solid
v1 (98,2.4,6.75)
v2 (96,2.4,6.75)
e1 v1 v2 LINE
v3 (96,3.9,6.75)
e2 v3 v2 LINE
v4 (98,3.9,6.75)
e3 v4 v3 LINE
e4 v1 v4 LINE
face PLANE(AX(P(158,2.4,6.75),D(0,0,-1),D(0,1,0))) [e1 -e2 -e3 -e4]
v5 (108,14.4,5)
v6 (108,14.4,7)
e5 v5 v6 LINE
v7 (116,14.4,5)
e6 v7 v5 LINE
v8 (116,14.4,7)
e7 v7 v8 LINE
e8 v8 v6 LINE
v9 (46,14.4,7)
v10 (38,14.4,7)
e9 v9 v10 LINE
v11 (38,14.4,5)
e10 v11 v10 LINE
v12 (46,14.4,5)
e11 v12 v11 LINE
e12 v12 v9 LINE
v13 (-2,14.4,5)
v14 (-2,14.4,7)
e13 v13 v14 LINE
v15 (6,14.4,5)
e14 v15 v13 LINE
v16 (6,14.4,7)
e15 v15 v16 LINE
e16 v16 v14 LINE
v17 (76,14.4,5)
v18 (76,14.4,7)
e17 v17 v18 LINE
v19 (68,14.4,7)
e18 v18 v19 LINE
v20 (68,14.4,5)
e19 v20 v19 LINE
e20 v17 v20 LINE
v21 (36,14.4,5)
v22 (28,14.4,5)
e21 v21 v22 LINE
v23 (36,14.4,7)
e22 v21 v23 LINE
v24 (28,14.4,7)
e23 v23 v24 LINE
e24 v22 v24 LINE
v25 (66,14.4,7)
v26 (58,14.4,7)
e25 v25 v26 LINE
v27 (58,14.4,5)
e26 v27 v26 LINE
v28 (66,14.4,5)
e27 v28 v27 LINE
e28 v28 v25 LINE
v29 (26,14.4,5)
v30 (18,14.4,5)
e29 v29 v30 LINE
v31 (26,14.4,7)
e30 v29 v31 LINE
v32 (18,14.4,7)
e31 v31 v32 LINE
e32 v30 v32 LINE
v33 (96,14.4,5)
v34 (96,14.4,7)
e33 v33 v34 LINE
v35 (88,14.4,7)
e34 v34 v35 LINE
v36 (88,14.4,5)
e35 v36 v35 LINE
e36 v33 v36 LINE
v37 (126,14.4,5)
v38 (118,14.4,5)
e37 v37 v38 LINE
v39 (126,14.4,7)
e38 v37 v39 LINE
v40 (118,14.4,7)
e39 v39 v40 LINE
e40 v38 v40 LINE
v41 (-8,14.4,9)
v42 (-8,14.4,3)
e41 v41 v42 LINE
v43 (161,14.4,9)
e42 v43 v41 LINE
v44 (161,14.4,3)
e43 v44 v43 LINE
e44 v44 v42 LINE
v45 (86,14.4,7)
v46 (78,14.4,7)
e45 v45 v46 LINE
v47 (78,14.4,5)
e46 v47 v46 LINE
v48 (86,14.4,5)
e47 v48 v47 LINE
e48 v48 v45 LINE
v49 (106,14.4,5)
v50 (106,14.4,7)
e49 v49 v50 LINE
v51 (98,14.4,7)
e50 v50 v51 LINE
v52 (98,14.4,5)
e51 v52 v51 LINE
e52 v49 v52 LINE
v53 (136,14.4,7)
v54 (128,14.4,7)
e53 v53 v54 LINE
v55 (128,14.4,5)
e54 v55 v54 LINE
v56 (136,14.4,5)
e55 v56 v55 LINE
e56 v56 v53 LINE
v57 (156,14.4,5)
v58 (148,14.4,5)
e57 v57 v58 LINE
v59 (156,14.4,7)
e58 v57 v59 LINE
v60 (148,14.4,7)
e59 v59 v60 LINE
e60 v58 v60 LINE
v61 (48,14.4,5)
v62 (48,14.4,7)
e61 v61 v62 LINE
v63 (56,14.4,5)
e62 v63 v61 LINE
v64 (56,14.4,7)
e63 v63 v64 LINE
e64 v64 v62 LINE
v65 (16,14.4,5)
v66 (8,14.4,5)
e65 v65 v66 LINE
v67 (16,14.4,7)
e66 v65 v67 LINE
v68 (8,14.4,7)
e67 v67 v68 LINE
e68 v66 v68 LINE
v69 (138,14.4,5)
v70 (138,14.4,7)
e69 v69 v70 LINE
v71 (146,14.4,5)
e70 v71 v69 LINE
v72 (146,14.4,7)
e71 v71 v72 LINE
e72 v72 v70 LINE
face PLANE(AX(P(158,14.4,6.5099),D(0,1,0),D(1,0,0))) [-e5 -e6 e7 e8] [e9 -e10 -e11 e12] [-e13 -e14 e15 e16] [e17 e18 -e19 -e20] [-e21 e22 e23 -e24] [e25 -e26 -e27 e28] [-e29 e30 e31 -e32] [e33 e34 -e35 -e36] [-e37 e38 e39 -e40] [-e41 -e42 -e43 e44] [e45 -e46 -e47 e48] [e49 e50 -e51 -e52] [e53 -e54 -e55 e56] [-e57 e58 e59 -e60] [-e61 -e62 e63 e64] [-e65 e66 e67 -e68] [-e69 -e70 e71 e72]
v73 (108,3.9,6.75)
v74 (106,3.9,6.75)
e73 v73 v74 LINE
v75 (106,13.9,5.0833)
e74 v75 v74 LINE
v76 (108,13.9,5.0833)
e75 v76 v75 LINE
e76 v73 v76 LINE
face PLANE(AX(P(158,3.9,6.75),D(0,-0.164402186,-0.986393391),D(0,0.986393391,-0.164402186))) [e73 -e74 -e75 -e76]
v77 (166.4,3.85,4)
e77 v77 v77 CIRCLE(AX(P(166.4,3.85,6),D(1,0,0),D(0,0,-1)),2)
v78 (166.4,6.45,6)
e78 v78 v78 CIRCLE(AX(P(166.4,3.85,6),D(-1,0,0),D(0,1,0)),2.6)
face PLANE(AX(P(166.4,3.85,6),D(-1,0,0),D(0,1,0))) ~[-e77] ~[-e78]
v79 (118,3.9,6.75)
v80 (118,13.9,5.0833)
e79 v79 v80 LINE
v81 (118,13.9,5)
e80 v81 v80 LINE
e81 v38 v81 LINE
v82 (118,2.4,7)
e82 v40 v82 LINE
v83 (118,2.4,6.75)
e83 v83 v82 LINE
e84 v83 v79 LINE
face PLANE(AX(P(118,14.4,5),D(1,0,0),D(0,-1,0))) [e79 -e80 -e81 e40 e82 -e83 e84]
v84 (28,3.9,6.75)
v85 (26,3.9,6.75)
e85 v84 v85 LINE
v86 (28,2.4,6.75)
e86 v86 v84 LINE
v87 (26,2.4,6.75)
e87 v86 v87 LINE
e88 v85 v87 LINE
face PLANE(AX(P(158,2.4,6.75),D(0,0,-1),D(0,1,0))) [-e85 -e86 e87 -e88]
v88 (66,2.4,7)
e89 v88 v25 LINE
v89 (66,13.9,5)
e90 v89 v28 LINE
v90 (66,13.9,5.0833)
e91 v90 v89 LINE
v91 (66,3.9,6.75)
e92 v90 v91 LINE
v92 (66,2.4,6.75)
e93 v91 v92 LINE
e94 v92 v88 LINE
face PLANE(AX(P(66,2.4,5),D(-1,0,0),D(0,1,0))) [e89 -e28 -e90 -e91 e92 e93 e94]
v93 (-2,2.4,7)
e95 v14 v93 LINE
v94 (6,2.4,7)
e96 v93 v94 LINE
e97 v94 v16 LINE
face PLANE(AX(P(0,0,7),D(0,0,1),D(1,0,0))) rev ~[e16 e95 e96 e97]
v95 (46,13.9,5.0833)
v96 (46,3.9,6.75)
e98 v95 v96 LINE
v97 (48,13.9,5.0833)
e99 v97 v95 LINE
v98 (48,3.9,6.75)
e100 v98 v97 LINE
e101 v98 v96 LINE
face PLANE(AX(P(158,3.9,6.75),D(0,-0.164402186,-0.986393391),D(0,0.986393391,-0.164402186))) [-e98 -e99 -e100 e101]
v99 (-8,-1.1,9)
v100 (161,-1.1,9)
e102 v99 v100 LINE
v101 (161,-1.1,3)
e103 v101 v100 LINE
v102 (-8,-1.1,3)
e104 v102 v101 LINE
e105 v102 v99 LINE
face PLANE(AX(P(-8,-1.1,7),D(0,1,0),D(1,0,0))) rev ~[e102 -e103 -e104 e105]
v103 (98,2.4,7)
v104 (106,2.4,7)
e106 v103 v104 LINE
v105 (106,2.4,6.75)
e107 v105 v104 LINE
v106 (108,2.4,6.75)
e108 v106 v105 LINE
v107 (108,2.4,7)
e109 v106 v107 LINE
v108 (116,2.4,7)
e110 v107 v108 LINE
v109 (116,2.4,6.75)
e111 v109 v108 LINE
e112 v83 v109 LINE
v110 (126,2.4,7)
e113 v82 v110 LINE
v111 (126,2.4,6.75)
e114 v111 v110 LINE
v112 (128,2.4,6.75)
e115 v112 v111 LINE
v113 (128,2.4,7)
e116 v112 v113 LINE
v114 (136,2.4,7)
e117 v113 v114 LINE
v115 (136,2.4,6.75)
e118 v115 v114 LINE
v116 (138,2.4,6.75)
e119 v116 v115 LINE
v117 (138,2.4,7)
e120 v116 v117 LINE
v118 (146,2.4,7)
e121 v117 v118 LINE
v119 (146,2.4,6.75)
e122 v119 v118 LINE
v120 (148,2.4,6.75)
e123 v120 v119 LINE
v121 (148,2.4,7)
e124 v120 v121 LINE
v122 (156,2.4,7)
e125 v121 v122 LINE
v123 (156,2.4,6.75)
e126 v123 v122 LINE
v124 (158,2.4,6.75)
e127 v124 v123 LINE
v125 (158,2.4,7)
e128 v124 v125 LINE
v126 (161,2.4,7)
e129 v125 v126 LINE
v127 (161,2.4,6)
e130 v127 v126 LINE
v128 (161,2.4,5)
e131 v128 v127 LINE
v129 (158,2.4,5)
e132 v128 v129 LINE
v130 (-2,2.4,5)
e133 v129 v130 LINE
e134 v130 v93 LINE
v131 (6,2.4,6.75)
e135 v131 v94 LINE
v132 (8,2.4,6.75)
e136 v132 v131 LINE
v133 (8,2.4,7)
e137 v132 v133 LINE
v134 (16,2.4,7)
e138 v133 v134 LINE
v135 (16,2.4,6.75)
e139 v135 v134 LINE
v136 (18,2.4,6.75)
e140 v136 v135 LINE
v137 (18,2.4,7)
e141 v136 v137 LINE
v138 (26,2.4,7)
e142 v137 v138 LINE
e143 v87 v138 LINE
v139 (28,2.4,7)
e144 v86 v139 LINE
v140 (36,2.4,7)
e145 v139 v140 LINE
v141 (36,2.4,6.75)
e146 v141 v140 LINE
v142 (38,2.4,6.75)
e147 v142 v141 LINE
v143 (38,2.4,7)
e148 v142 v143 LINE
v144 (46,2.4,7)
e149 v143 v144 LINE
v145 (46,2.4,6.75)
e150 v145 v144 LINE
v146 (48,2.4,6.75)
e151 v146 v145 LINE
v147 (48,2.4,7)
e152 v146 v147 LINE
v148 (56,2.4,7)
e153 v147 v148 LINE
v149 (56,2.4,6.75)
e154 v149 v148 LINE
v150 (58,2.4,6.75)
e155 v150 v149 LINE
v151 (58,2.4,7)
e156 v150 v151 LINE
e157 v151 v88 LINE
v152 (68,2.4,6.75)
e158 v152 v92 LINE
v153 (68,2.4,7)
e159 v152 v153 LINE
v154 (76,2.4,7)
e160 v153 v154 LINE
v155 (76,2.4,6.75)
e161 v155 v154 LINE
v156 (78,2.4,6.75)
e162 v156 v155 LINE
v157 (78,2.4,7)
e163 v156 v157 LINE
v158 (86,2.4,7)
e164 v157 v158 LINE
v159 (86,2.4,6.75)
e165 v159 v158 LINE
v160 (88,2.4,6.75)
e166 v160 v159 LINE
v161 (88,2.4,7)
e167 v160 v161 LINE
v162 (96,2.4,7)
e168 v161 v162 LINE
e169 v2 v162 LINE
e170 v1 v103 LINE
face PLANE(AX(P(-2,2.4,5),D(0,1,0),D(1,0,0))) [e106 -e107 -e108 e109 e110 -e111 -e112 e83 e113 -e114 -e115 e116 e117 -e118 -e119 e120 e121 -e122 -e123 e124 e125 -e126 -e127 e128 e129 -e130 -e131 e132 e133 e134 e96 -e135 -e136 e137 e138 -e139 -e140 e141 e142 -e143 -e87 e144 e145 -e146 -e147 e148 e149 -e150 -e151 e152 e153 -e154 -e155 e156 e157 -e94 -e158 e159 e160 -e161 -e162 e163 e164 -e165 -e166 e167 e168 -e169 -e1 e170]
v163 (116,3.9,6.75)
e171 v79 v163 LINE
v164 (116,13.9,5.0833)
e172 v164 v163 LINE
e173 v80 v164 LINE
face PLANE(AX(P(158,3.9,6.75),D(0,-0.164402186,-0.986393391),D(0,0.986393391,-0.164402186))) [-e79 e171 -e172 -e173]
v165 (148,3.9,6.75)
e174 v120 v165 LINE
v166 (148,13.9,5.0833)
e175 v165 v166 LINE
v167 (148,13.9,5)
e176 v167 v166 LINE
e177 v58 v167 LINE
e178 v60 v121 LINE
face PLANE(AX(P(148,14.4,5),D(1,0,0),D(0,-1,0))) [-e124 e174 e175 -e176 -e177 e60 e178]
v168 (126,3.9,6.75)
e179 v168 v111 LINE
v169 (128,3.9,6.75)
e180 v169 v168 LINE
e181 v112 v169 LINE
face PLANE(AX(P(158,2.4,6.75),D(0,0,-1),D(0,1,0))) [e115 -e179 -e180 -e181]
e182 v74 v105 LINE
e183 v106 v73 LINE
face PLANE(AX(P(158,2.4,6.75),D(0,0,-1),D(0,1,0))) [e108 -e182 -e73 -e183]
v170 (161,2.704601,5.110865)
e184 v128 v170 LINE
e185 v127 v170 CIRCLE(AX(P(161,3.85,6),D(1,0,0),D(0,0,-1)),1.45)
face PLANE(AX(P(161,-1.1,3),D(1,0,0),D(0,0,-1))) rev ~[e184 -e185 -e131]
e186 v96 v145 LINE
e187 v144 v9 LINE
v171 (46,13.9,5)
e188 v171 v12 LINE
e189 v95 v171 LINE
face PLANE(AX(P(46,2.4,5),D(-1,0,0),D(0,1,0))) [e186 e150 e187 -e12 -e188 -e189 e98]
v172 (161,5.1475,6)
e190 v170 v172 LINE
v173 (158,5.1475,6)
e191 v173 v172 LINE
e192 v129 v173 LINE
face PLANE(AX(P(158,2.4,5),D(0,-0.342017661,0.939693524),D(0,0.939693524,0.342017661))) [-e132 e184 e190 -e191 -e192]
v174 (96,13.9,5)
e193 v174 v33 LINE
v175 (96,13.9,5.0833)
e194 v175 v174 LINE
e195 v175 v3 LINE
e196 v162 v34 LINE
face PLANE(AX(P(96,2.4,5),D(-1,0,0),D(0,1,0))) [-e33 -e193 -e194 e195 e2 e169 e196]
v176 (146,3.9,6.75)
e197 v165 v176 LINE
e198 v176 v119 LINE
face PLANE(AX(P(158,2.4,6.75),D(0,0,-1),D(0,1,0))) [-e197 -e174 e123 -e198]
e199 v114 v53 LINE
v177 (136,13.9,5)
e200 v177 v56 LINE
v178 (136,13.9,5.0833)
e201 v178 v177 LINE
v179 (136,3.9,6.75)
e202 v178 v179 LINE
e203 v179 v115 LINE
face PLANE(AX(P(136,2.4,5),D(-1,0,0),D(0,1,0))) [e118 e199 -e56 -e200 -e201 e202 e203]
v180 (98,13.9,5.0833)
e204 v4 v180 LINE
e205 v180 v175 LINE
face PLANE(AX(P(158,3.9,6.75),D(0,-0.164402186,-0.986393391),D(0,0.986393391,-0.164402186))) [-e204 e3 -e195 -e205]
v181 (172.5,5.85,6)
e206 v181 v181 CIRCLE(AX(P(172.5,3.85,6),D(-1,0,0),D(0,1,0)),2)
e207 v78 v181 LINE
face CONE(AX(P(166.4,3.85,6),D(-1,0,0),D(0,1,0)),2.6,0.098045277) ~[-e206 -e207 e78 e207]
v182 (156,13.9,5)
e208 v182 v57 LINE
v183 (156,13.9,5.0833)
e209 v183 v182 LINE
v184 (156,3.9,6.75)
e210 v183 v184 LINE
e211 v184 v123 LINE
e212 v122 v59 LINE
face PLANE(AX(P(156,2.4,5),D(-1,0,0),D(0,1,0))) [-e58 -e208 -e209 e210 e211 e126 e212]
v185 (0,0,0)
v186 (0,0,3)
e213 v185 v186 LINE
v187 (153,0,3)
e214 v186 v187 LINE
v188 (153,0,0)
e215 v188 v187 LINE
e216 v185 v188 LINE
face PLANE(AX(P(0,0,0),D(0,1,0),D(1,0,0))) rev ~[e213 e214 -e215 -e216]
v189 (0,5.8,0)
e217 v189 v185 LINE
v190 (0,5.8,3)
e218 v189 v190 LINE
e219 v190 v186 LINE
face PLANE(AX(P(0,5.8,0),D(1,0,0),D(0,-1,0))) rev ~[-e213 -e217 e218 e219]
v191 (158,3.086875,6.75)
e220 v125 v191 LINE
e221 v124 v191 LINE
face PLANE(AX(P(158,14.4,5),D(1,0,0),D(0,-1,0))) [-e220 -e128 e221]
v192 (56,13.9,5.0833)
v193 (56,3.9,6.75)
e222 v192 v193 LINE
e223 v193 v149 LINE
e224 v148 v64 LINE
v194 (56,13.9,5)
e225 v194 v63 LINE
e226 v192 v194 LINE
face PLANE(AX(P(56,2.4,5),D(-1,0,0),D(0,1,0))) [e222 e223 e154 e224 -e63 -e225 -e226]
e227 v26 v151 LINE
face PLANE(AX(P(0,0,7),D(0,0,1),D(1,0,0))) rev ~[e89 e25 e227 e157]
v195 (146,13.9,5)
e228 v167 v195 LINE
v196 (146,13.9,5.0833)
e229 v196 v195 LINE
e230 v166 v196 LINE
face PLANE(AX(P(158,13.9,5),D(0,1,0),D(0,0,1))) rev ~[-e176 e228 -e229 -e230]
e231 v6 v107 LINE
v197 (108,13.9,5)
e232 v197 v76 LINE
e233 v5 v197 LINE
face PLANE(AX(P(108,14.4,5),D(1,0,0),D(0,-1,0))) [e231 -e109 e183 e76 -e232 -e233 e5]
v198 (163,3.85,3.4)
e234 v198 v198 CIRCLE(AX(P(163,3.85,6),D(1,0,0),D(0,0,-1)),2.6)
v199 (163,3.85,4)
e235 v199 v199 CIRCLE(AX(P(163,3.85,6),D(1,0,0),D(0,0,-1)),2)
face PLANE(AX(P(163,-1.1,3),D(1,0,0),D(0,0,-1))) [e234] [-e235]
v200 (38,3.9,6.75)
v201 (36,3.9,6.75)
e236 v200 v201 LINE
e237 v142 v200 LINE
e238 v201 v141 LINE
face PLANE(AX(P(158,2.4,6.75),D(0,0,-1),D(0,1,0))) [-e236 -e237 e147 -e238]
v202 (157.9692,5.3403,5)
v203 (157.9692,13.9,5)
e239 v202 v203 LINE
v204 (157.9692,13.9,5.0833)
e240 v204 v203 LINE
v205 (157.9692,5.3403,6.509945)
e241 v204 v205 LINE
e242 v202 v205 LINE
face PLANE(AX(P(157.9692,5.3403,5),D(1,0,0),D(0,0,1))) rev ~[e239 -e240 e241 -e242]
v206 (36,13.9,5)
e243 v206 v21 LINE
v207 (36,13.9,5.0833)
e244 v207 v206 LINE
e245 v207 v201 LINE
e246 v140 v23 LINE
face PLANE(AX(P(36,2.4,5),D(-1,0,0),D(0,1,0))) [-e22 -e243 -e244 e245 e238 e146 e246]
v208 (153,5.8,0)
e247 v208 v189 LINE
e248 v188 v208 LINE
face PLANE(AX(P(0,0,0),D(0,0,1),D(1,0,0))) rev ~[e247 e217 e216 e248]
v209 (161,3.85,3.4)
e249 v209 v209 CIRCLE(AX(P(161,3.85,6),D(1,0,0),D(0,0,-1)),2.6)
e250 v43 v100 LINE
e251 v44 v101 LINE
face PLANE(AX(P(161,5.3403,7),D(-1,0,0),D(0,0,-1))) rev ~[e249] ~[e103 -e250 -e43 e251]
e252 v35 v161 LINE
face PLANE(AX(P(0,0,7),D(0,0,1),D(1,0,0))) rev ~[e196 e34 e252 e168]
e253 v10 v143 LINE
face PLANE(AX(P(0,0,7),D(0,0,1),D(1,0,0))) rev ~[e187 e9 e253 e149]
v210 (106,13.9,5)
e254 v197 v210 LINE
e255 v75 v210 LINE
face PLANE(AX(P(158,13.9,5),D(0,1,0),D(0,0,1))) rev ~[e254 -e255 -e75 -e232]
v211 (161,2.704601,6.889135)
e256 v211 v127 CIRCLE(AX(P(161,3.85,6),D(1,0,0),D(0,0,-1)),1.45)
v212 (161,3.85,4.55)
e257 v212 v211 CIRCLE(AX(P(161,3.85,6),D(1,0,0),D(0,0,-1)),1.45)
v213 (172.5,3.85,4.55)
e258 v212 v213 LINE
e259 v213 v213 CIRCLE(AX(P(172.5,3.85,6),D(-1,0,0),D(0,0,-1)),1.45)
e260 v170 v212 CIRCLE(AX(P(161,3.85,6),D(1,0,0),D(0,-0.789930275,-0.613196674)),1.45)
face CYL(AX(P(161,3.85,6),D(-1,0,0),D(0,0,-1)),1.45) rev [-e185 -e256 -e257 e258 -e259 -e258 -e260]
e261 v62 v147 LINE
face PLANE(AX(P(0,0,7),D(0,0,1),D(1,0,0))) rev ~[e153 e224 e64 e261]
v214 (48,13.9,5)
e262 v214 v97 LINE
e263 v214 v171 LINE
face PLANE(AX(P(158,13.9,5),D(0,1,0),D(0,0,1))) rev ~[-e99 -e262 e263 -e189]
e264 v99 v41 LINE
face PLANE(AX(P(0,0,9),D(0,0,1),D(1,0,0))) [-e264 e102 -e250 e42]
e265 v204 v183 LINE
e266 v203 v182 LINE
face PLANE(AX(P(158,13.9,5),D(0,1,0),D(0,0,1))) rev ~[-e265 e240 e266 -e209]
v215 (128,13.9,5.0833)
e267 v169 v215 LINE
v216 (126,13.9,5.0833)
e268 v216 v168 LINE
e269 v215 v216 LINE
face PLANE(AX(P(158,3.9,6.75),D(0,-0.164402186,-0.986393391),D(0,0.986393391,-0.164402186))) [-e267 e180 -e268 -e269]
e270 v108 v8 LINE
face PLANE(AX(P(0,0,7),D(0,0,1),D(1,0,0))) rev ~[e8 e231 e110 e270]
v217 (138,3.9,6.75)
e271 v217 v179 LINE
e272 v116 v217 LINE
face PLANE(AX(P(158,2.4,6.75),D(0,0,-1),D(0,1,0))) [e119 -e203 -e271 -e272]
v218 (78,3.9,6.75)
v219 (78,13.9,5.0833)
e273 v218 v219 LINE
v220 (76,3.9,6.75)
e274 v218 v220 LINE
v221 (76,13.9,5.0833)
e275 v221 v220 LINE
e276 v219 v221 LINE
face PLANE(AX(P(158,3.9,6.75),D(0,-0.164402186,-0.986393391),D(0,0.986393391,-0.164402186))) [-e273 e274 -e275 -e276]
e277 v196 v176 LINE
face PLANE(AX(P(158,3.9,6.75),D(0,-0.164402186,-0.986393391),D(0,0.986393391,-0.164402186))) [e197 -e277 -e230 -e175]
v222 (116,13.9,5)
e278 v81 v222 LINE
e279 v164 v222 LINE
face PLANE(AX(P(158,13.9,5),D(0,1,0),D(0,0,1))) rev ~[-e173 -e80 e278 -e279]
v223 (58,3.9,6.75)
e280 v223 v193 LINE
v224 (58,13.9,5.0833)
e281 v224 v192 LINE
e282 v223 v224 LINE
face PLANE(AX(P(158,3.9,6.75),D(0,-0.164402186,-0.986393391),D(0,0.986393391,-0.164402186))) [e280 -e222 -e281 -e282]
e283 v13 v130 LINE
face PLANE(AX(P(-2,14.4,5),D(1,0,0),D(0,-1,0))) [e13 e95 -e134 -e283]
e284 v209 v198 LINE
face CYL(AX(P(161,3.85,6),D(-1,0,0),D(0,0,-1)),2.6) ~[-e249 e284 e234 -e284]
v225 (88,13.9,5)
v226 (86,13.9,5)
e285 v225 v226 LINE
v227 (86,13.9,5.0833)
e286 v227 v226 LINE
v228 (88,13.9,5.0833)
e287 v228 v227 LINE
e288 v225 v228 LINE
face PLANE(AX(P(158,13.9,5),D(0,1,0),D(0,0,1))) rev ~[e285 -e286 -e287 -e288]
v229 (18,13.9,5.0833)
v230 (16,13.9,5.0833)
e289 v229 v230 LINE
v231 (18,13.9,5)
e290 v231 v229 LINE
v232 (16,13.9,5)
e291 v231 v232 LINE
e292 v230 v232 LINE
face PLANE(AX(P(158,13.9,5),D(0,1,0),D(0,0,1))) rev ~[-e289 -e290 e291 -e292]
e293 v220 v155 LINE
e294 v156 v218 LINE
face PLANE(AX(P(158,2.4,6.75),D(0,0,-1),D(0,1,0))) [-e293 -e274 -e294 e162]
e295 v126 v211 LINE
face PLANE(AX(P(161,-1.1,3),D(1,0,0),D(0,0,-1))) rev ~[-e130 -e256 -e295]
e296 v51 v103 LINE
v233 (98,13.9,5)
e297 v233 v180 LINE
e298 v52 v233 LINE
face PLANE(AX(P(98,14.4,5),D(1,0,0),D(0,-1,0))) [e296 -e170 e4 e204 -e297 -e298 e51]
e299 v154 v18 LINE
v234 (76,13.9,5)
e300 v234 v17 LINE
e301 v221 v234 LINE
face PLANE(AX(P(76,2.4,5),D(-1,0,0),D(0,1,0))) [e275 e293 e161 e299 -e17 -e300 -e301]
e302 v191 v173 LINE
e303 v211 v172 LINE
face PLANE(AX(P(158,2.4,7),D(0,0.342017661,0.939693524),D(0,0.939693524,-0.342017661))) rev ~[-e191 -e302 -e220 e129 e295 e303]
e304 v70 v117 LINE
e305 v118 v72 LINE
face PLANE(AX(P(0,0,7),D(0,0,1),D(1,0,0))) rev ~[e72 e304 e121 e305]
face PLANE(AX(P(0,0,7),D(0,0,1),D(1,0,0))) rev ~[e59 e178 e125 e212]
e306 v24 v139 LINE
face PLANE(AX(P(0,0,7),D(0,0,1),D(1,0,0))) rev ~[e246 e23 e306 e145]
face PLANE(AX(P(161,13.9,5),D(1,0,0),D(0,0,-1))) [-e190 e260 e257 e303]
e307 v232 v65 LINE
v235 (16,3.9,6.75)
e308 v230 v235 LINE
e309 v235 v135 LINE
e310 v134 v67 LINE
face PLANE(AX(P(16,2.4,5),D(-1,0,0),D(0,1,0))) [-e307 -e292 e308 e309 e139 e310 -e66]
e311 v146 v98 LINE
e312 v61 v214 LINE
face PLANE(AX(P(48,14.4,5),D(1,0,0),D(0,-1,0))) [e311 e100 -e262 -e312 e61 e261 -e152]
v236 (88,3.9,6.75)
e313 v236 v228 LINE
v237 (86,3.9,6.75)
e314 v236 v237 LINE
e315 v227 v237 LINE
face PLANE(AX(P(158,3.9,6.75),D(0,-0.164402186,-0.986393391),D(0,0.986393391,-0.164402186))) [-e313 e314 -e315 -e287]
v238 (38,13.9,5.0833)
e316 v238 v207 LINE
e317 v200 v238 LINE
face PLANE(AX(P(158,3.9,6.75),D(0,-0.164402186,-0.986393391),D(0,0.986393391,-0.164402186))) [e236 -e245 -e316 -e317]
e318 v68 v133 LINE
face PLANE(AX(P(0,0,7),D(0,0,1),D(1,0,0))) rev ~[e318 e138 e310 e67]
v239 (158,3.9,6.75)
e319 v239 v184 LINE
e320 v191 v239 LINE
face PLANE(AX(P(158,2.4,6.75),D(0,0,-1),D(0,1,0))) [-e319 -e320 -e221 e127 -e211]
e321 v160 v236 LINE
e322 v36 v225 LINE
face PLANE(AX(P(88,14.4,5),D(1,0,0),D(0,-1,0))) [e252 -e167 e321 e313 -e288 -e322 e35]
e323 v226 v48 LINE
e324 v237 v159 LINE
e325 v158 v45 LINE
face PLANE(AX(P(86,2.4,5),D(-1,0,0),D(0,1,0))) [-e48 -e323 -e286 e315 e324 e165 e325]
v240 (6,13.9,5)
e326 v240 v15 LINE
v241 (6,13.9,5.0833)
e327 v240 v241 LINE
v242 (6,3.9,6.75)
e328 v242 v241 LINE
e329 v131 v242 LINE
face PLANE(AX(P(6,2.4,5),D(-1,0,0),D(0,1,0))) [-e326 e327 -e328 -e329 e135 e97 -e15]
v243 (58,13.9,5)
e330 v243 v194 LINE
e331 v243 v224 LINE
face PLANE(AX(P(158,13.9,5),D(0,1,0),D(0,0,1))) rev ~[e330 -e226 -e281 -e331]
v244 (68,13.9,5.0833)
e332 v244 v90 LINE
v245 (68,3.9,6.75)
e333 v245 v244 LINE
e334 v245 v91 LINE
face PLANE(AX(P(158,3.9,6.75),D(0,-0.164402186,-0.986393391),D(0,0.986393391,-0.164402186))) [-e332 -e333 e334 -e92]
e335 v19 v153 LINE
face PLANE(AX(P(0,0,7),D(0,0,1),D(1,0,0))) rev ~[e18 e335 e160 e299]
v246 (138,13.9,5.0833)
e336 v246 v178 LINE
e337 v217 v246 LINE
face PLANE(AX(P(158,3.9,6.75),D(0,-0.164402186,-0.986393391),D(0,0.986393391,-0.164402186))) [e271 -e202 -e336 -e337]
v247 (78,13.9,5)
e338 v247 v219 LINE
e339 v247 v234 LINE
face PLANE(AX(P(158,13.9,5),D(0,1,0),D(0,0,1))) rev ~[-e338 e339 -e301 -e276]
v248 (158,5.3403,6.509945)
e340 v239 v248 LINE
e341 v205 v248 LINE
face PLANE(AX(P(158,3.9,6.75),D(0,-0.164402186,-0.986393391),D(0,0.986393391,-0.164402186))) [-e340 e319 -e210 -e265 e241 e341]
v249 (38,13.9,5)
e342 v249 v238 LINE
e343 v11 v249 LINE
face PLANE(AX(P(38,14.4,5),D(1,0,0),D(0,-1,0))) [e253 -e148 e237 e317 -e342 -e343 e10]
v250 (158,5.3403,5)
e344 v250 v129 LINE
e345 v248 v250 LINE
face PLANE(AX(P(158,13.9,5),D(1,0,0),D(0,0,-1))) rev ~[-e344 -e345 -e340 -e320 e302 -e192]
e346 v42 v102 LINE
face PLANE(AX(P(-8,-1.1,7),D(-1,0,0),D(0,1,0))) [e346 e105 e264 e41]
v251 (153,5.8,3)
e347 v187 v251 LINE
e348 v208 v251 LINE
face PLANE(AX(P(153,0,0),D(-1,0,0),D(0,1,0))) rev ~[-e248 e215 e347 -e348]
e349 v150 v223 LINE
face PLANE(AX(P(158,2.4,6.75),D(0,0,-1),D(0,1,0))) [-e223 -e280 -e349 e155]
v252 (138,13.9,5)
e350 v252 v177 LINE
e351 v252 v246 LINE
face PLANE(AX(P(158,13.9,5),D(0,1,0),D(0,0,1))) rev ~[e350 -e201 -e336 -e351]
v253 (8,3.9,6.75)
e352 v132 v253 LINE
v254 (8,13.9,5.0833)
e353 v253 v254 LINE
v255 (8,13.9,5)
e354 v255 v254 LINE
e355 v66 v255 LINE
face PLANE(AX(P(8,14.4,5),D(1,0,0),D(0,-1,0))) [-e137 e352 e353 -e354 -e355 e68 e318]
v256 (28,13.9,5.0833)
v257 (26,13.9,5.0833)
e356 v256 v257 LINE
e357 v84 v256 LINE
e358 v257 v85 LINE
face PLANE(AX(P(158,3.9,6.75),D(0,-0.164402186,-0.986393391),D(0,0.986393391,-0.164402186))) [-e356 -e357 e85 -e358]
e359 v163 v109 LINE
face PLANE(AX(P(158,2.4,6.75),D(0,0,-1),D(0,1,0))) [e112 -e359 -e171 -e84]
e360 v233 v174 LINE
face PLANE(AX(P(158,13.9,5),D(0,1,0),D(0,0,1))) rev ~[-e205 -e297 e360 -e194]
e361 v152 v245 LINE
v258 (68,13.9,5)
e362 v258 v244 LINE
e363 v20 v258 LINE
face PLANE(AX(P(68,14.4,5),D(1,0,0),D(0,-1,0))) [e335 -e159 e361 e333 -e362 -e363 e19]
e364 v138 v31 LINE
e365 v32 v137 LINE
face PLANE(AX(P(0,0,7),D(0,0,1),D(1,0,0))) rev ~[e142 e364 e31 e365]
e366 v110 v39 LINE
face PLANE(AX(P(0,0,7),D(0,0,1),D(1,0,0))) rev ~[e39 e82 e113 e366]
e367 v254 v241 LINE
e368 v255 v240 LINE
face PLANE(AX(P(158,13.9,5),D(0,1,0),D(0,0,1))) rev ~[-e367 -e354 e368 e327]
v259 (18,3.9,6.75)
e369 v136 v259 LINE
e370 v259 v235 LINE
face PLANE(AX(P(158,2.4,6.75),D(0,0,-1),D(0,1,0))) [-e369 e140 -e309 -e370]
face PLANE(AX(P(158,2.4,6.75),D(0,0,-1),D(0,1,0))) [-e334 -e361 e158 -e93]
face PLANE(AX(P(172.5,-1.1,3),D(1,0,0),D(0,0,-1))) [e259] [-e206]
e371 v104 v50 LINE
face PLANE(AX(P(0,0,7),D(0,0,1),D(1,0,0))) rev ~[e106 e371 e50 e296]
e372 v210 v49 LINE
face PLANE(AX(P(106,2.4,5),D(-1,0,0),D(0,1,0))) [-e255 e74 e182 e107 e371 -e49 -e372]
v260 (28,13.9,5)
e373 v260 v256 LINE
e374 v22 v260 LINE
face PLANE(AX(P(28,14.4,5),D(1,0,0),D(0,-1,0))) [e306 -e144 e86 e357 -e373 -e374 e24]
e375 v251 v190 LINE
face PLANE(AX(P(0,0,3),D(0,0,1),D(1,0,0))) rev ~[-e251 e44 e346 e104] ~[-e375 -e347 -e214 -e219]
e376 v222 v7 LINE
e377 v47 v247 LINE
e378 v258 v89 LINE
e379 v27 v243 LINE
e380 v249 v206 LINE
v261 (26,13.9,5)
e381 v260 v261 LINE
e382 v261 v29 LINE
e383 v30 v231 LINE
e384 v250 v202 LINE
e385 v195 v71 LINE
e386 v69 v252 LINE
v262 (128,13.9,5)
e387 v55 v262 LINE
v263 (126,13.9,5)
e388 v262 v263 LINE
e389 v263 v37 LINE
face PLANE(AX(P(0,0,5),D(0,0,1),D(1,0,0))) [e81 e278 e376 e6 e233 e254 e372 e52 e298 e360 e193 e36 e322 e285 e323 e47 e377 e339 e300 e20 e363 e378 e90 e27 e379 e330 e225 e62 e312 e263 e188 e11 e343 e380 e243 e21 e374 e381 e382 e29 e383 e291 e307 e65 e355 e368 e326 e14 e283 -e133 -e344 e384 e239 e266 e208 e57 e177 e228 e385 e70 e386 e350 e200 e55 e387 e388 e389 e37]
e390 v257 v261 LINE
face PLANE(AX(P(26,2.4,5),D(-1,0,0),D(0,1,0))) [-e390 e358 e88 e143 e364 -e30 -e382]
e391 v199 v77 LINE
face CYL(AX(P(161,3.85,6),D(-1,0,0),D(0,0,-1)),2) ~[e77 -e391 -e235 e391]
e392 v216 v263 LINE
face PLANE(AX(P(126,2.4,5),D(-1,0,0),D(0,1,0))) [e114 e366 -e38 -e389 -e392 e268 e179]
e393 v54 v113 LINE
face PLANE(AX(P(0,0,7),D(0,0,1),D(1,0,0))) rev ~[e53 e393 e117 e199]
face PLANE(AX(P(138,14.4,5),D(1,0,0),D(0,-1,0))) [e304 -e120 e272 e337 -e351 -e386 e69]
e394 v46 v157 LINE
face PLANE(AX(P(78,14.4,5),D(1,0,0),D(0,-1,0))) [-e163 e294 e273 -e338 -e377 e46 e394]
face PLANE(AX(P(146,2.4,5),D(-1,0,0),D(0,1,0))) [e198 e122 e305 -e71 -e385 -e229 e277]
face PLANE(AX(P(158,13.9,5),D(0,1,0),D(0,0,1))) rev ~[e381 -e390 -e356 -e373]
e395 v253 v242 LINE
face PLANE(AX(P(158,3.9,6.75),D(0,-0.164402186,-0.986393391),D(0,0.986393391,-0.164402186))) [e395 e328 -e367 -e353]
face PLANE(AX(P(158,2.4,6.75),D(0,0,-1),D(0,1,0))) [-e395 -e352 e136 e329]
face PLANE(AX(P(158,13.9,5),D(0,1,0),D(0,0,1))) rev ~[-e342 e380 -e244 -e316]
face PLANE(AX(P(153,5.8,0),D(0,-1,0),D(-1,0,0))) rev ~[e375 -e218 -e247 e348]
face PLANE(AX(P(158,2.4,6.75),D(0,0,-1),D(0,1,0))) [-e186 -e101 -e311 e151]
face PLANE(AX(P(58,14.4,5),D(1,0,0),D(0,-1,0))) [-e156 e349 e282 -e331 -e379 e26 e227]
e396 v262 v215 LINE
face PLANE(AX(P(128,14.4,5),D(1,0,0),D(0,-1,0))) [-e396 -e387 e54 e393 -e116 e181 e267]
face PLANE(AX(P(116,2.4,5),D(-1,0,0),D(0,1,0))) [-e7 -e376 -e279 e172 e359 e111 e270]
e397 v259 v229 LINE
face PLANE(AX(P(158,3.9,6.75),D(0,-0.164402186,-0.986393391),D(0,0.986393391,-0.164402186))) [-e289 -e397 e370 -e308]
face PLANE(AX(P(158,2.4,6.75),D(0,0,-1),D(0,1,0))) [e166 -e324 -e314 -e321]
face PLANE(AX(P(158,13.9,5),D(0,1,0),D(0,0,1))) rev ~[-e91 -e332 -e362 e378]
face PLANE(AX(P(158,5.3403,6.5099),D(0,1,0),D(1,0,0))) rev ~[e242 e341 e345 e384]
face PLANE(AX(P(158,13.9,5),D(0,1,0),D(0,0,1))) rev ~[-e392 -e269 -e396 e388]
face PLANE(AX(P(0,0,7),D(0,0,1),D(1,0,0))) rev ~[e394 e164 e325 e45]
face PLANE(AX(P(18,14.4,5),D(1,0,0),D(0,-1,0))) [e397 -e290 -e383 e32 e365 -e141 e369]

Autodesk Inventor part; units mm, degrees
ref_plane "YZ Plane" through (0, 0, 0) normal (1, 0, 0) x (0, 1, 0)
ref_plane "XZ Plane" through (0, 0, 0) normal (0, 1, 0) x (-1, 0, 0)
ref_plane "XY Plane" through (0, 0, 0) normal (0, 0, 1) x (1, 0, 0)
sketch "Esboço1" plane through (0, 0, 0) normal (0, 0, 1) x (1, 0, 0)
  line L0 (0, 0) -> (153, 0)
  line L1 (153, 0) -> (153, 5.8)
  line L2 (153, 5.8) -> (0, 5.8)
  line L3 (0, 5.8) -> (0, 0)
  dimension "d0" = 153
  dimension "d1" = 5.8
extrude "Extrusão1" add sketch "Esboço1" along normal blind 3
sketch "Esboço2" plane through (0, 0, 3) normal (0, 0, 1) x (1, 0, 0)
  line L0 (0, 5.8) -> (0, 0) projected
  line L1 (0, 2.9) -> (-8, 2.9) construction
  line L2 (-8, 2.9) -> (-8, 14.4)
  line L3 (-8, 2.9) -> (-8, -1.1)
  line L4 (153, 0) -> (153, 5.8) projected
  line L5 (153, 2.9) -> (161, 2.9) construction
  line L6 (161, 2.9) -> (161, 14.4)
  line L7 (161, 2.9) -> (161, -1.1)
  line L8 (161, 14.4) -> (-8, 14.4)
  line L9 (-8, -1.1) -> (161, -1.1)
  dimension "d4" = 8
  dimension "d5" = 11.5
  dimension "d6" = 4
  dimension "d7" = 8
  dimension "d8" = 11.5
  dimension "d9" = 4
extrude "Extrusão2" add sketch "Esboço2" along normal blind 2
sketch "Esboço3" plane through (0, 0, 5) normal (0, 0, 1) x (1, 0, 0)
  line L0 (161, 14.4) -> (-8, 14.4) projected
  line L1 (-8, 14.4) -> (-2, 14.4)
  line L2 (-2, 14.4) -> (-2, 2.4)
  line L3 (-2, 2.4) -> (161, 2.4)
  line L4 (161, -1.1) -> (161, 14.4) projected
  line L5 (161, 2.4) -> (161, -1.1)
  line L6 (161, -1.1) -> (-8, -1.1)
  line L7 (-8, -1.1) -> (-8, 14.4)
  point P0 (0, 0)
  dimension "d12" = 6
  dimension "d13" = 12
  dimension "d14" = 90
  dimension "d15" = 90
extrude "Extrusão3" add sketch "Esboço3" along normal blind 2 contours L2 L3 L4 L6 L7 L0
sketch "Esboço4" plane through (0, 0, 5) normal (0, 0, 1) x (1, 0, 0)
  line L0 (-2, 2.4) -> (161, 2.4) projected
  line L1 (-2, 2.4) -> (6, 2.4) construction
  line L2 (6, 2.4) -> (6, 14.4)
  line L3 (6, 14.4) -> (8, 14.4)
  line L4 (8, 14.4) -> (8, 2.4)
  line L5 (8, 2.4) -> (6, 2.4)
  line L6 (8, 2.4) -> (16, 2.4) construction
  line L7 (16, 2.4) -> (16, 14.4)
  line L8 (16, 14.4) -> (18, 14.4)
  line L9 (18, 14.4) -> (18, 2.4)
  line L10 (18, 2.4) -> (16, 2.4)
  line L11 (18, 2.4) -> (26, 2.4) construction
  line L12 (26, 2.4) -> (26, 14.4)
  line L13 (26, 14.4) -> (28, 14.4)
  line L14 (28, 14.4) -> (28, 2.4)
  line L15 (28, 2.4) -> (26, 2.4)
  line L16 (28, 2.4) -> (36, 2.4) construction
  line L17 (36, 2.4) -> (36, 14.4)
  line L18 (36, 14.4) -> (38, 14.4)
  line L19 (38, 14.4) -> (38, 2.4)
  line L20 (38, 2.4) -> (36, 2.4)
  line L21 (38, 2.4) -> (46, 2.4) construction
  line L22 (46, 2.4) -> (46, 14.4)
  line L23 (46, 14.4) -> (48, 14.4)
  line L24 (48, 14.4) -> (48, 2.4)
  line L25 (48, 2.4) -> (46, 2.4)
  line L26 (48, 2.4) -> (56, 2.4) construction
  line L27 (56, 2.4) -> (56, 14.4)
  line L28 (56, 14.4) -> (58, 14.4)
  line L29 (58, 14.4) -> (58, 2.4)
  line L30 (58, 2.4) -> (56, 2.4)
  line L31 (58, 2.4) -> (66, 2.4) construction
  line L32 (66, 2.4) -> (66, 14.4)
  line L33 (66, 14.4) -> (68, 14.4)
  line L34 (68, 14.4) -> (68, 2.4)
  line L35 (68, 2.4) -> (66, 2.4)
  line L36 (68, 2.4) -> (76, 2.4) construction
  line L37 (76, 2.4) -> (76, 14.4)
  line L38 (76, 14.4) -> (78, 14.4)
  line L39 (78, 14.4) -> (78, 2.4)
  line L40 (78, 2.4) -> (76, 2.4)
  line L41 (78, 2.4) -> (86, 2.4) construction
  line L42 (86, 2.4) -> (86, 14.4)
  line L43 (86, 14.4) -> (88, 14.4)
  line L44 (88, 14.4) -> (88, 2.4)
  line L45 (88, 2.4) -> (86, 2.4)
  line L46 (88, 2.4) -> (96, 2.4) construction
  line L47 (96, 2.4) -> (96, 14.4)
  line L48 (96, 14.4) -> (98, 14.4)
  line L49 (98, 14.4) -> (98, 2.4)
  line L50 (98, 2.4) -> (96, 2.4)
  line L51 (98, 2.4) -> (106, 2.4) construction
  line L52 (106, 2.4) -> (106, 14.4)
  line L53 (106, 14.4) -> (108, 14.4)
  line L54 (108, 14.4) -> (108, 2.4)
  line L55 (108, 2.4) -> (106, 2.4)
  line L56 (108, 2.4) -> (116, 2.4) construction
  line L57 (116, 2.4) -> (116, 14.4)
  line L58 (116, 14.4) -> (118, 14.4)
  line L59 (118, 14.4) -> (118, 2.4)
  line L60 (118, 2.4) -> (116, 2.4)
  line L61 (118, 2.4) -> (126, 2.4) construction
  line L62 (126, 2.4) -> (126, 14.4)
  line L63 (126, 14.4) -> (128, 14.4)
  line L64 (128, 14.4) -> (128, 2.4)
  line L65 (128, 2.4) -> (126, 2.4)
  line L66 (128, 2.4) -> (136, 2.4) construction
  line L67 (136, 2.4) -> (136, 14.4)
  line L68 (136, 14.4) -> (138, 14.4)
  line L69 (138, 14.4) -> (138, 2.4)
  line L70 (138, 2.4) -> (136, 2.4)
  line L71 (138, 2.4) -> (146, 2.4) construction
  line L72 (146, 2.4) -> (146, 14.4)
  line L73 (146, 14.4) -> (148, 14.4)
  line L74 (148, 14.4) -> (148, 2.4)
  line L75 (148, 2.4) -> (146, 2.4)
  line L76 (148, 2.4) -> (156, 2.4) construction
  line L77 (156, 2.4) -> (156, 14.4)
  line L78 (156, 14.4) -> (158, 14.4)
  line L79 (158, 14.4) -> (158, 2.4)
  line L80 (158, 2.4) -> (156, 2.4)
  line L81 (158, 2.4) -> (162, 2.4) construction
  point P0 (0, 0)
  point P1 (10, 0)
  point P2 (20, 0)
  point P3 (30, 0)
  point P4 (40, 0)
  point P5 (50, 0)
  point P6 (60, 0)
  point P7 (70, 0)
  point P8 (80, 0)
  point P9 (90, 0)
  point P10 (100, 0)
  point P11 (110, 0)
  point P12 (120, 0)
  point P13 (130, 0)
  point P14 (140, 0)
  point P15 (150, 0)
  point P16 (146, 2.4)
  point P17 (148, 2.4)
  point P18 (16, 2.4)
  point P19 (138, 2.4)
  point P20 (116, 2.4)
  point P21 (108, 2.4)
  point P22 (96, 2.4)
  point P23 (68, 2.4)
  point P24 (86, 2.4)
  point P25 (88, 2.4)
  point P26 (76, 2.4)
  point P27 (158, 2.4)
  dimension "d18" = 8
  dimension "d19" = 12
  dimension "d20" = 2
  dimension "d21" = 12
  dimension "d22" = 90
  dimension "d25" = 10
  dimension "d30" = 4
extrude "Extrusão4" add sketch "Esboço4" along normal blind 2
sketch "Esboço5" plane through (158, 2.4, 5) normal (1, 0, 0) x (0, 0, -1)
  line L0 (-2, 0) -> (0, 0) projected
  line L1 (0, 0) -> (0, 12) projected
  line L2 (-1.75, 1.5) -> (-0.0833, 11.5)
  line L3 (0, 12) -> (0, 0)
  line L4 (-2, 0) -> (0, 0)
  line L5 (-2, 0) -> (-1.75, 0)
  line L6 (-1.75, 0) -> (-1.75, 1.5)
  line L7 (0, 0) -> (0, 12) projected
  line L8 (0, 12) -> (0, 11.5)
  line L9 (0, 11.5) -> (-0.0833, 11.5)
  point P0 (5, -2.4)
  point P1 (-1.75, 0)
  dimension "d33" = 0.25
  dimension "d38" = 0.5
extrude "Extrusão5" cut sketch "Esboço5" against normal up to surface (152 mm away)
sketch "Esboço6" plane through (0, 0, 7) normal (0, 0, 1) x (1, 0, 0)
  line L0 (-8, -1.1) -> (161, -1.1) projected
  line L1 (161, 14.4) -> (-8, 14.4) projected
  line L2 (-8, -1.1) -> (-8, 14.4)
  line L3 (-8, 14.4) -> (161, 14.4)
  line L4 (161, 14.4) -> (161, -1.1)
  line L5 (161, -1.1) -> (-8, -1.1)
  point P0 (0, 0)
extrude "Extrusão6" add sketch "Esboço6" along normal blind 2
sketch "Esboço7" plane through (161, -1.1, 3) normal (1, 0, 0) x (0, 0, -1)
  line L0 (-2, 3.5) -> (-4, 3.5) projected
  line L1 (-3, 3.5) -> (-3, 6.4) construction
  circle A0 centre (-3, 4.95) radius 1.45
  circle A1 centre (-3, 4.95) radius 2
  point P0 (3, 1.1)
  dimension "d39" = 2.9
  dimension "d40" = 4
extrude "Extrusão7" add sketch "Esboço7" along normal blind 11.5
sketch "Esboço8" plane through (158, 13.9, 5) normal (1, 0, 0) x (0, 0, -1)
  line L0 (-1.75, -11.5) -> (-2, -11.5) projected
  line L1 (0, 0.5) -> (0, -11.5) projected
  line L2 (-2, -8.3179) -> (-2, 0.5) projected
  line L3 (0, 0.5) -> (-2, 0.5) projected
  line L4 (-1, 0.5) -> (-1, -11.5) construction
  line L5 (0, -11.5) -> (-2, -11.5) projected
  line L6 (-2, -11.5) -> (-1, -8.7525)
  line L7 (-2, -11.5) -> (1.5599, -11.5) construction
  line L8 (0, -11.5) -> (-1, -8.7525)
  line L9 (-2, -11.5) -> (-2, -8.5597)
  line L10 (-2, -8.5597) -> (0, -8.5597)
  line L11 (0, -8.5597) -> (0, -11.5)
  point P0 (5, -13.9)
  dimension "d44" = 12
  dimension "d45" = 70
extrude "Extrusão8" add sketch "Esboço8" along normal up to surface (3 mm away) contours L9 L10 L1 L8 L6
sketch "Esboço9" plane through (158, 5.3403, 6.5099) normal (0, 1, 0) x (1, 0, 0)
  line L0 (3, -0.4901) -> (3, -2.4901) projected
  line L1 (3, 1.3991) -> (3, 1.5099) projected
  line L2 (3, -0.4901) -> (3, 1.5099)
  line L3 (3, 1.5099) -> (-0.0308, 1.5099)
  line L4 (-0.0308, 1.5099) -> (-0.0308, -0.4901)
  line L5 (-0.0308, -0.4901) -> (3, -0.4901)
  point P0 (-158, 6.5099)
extrude "Extrusão9" add sketch "Esboço9" along normal up to surface (9.0597 mm away)
ref_plane "Plano de trabalho1" through (0, 0, 6) normal (0, 0, 1) x (1, 0, 0)
sketch "Esboço10" plane through (0, 0, 6) normal (0, 0, 1) x (1, 0, 0)
  line L0 (172.5, 1.85) -> (172.5, 5.85) projected
  line L1 (172.5, 5.85) -> (166.4, 5.85)
  line L2 (161, 5.85) -> (172.5, 5.85) projected
  line L3 (172.5, 3.85) -> (166.4, 3.85)
  line L4 (166.4, 5.85) -> (166.4, 6.45)
  line L5 (166.4, 6.45) -> (172.5, 5.85)
  point P0 (0, 0)
  dimension "d50" = 6.1
  dimension "d51" = 2.6
revolve "Revolução1" add sketch "Esboço10" angle 360 about axis through (172.5, 3.85, 6) along (-1, 0, 0)
sketch "Esboço11" plane through (161, -1.1, 3) normal (1, 0, 0) x (0, 0, -1)
  point P0 (3, 1.1)
sketch "Esboço12" plane through (161, -1.1, 3) normal (1, 0, 0) x (0, 0, -1)
  circle A0 centre (-3, 4.95) radius 2 projected
  circle A1 centre (-3, 4.95) radius 2
  circle A2 centre (-3, 4.95) radius 2.6
  point P0 (3, 1.1)
  dimension "d53" = 5.2
extrude "Extrusão10" add sketch "Esboço12" along normal blind 2
properties part number "Sprinkler"
